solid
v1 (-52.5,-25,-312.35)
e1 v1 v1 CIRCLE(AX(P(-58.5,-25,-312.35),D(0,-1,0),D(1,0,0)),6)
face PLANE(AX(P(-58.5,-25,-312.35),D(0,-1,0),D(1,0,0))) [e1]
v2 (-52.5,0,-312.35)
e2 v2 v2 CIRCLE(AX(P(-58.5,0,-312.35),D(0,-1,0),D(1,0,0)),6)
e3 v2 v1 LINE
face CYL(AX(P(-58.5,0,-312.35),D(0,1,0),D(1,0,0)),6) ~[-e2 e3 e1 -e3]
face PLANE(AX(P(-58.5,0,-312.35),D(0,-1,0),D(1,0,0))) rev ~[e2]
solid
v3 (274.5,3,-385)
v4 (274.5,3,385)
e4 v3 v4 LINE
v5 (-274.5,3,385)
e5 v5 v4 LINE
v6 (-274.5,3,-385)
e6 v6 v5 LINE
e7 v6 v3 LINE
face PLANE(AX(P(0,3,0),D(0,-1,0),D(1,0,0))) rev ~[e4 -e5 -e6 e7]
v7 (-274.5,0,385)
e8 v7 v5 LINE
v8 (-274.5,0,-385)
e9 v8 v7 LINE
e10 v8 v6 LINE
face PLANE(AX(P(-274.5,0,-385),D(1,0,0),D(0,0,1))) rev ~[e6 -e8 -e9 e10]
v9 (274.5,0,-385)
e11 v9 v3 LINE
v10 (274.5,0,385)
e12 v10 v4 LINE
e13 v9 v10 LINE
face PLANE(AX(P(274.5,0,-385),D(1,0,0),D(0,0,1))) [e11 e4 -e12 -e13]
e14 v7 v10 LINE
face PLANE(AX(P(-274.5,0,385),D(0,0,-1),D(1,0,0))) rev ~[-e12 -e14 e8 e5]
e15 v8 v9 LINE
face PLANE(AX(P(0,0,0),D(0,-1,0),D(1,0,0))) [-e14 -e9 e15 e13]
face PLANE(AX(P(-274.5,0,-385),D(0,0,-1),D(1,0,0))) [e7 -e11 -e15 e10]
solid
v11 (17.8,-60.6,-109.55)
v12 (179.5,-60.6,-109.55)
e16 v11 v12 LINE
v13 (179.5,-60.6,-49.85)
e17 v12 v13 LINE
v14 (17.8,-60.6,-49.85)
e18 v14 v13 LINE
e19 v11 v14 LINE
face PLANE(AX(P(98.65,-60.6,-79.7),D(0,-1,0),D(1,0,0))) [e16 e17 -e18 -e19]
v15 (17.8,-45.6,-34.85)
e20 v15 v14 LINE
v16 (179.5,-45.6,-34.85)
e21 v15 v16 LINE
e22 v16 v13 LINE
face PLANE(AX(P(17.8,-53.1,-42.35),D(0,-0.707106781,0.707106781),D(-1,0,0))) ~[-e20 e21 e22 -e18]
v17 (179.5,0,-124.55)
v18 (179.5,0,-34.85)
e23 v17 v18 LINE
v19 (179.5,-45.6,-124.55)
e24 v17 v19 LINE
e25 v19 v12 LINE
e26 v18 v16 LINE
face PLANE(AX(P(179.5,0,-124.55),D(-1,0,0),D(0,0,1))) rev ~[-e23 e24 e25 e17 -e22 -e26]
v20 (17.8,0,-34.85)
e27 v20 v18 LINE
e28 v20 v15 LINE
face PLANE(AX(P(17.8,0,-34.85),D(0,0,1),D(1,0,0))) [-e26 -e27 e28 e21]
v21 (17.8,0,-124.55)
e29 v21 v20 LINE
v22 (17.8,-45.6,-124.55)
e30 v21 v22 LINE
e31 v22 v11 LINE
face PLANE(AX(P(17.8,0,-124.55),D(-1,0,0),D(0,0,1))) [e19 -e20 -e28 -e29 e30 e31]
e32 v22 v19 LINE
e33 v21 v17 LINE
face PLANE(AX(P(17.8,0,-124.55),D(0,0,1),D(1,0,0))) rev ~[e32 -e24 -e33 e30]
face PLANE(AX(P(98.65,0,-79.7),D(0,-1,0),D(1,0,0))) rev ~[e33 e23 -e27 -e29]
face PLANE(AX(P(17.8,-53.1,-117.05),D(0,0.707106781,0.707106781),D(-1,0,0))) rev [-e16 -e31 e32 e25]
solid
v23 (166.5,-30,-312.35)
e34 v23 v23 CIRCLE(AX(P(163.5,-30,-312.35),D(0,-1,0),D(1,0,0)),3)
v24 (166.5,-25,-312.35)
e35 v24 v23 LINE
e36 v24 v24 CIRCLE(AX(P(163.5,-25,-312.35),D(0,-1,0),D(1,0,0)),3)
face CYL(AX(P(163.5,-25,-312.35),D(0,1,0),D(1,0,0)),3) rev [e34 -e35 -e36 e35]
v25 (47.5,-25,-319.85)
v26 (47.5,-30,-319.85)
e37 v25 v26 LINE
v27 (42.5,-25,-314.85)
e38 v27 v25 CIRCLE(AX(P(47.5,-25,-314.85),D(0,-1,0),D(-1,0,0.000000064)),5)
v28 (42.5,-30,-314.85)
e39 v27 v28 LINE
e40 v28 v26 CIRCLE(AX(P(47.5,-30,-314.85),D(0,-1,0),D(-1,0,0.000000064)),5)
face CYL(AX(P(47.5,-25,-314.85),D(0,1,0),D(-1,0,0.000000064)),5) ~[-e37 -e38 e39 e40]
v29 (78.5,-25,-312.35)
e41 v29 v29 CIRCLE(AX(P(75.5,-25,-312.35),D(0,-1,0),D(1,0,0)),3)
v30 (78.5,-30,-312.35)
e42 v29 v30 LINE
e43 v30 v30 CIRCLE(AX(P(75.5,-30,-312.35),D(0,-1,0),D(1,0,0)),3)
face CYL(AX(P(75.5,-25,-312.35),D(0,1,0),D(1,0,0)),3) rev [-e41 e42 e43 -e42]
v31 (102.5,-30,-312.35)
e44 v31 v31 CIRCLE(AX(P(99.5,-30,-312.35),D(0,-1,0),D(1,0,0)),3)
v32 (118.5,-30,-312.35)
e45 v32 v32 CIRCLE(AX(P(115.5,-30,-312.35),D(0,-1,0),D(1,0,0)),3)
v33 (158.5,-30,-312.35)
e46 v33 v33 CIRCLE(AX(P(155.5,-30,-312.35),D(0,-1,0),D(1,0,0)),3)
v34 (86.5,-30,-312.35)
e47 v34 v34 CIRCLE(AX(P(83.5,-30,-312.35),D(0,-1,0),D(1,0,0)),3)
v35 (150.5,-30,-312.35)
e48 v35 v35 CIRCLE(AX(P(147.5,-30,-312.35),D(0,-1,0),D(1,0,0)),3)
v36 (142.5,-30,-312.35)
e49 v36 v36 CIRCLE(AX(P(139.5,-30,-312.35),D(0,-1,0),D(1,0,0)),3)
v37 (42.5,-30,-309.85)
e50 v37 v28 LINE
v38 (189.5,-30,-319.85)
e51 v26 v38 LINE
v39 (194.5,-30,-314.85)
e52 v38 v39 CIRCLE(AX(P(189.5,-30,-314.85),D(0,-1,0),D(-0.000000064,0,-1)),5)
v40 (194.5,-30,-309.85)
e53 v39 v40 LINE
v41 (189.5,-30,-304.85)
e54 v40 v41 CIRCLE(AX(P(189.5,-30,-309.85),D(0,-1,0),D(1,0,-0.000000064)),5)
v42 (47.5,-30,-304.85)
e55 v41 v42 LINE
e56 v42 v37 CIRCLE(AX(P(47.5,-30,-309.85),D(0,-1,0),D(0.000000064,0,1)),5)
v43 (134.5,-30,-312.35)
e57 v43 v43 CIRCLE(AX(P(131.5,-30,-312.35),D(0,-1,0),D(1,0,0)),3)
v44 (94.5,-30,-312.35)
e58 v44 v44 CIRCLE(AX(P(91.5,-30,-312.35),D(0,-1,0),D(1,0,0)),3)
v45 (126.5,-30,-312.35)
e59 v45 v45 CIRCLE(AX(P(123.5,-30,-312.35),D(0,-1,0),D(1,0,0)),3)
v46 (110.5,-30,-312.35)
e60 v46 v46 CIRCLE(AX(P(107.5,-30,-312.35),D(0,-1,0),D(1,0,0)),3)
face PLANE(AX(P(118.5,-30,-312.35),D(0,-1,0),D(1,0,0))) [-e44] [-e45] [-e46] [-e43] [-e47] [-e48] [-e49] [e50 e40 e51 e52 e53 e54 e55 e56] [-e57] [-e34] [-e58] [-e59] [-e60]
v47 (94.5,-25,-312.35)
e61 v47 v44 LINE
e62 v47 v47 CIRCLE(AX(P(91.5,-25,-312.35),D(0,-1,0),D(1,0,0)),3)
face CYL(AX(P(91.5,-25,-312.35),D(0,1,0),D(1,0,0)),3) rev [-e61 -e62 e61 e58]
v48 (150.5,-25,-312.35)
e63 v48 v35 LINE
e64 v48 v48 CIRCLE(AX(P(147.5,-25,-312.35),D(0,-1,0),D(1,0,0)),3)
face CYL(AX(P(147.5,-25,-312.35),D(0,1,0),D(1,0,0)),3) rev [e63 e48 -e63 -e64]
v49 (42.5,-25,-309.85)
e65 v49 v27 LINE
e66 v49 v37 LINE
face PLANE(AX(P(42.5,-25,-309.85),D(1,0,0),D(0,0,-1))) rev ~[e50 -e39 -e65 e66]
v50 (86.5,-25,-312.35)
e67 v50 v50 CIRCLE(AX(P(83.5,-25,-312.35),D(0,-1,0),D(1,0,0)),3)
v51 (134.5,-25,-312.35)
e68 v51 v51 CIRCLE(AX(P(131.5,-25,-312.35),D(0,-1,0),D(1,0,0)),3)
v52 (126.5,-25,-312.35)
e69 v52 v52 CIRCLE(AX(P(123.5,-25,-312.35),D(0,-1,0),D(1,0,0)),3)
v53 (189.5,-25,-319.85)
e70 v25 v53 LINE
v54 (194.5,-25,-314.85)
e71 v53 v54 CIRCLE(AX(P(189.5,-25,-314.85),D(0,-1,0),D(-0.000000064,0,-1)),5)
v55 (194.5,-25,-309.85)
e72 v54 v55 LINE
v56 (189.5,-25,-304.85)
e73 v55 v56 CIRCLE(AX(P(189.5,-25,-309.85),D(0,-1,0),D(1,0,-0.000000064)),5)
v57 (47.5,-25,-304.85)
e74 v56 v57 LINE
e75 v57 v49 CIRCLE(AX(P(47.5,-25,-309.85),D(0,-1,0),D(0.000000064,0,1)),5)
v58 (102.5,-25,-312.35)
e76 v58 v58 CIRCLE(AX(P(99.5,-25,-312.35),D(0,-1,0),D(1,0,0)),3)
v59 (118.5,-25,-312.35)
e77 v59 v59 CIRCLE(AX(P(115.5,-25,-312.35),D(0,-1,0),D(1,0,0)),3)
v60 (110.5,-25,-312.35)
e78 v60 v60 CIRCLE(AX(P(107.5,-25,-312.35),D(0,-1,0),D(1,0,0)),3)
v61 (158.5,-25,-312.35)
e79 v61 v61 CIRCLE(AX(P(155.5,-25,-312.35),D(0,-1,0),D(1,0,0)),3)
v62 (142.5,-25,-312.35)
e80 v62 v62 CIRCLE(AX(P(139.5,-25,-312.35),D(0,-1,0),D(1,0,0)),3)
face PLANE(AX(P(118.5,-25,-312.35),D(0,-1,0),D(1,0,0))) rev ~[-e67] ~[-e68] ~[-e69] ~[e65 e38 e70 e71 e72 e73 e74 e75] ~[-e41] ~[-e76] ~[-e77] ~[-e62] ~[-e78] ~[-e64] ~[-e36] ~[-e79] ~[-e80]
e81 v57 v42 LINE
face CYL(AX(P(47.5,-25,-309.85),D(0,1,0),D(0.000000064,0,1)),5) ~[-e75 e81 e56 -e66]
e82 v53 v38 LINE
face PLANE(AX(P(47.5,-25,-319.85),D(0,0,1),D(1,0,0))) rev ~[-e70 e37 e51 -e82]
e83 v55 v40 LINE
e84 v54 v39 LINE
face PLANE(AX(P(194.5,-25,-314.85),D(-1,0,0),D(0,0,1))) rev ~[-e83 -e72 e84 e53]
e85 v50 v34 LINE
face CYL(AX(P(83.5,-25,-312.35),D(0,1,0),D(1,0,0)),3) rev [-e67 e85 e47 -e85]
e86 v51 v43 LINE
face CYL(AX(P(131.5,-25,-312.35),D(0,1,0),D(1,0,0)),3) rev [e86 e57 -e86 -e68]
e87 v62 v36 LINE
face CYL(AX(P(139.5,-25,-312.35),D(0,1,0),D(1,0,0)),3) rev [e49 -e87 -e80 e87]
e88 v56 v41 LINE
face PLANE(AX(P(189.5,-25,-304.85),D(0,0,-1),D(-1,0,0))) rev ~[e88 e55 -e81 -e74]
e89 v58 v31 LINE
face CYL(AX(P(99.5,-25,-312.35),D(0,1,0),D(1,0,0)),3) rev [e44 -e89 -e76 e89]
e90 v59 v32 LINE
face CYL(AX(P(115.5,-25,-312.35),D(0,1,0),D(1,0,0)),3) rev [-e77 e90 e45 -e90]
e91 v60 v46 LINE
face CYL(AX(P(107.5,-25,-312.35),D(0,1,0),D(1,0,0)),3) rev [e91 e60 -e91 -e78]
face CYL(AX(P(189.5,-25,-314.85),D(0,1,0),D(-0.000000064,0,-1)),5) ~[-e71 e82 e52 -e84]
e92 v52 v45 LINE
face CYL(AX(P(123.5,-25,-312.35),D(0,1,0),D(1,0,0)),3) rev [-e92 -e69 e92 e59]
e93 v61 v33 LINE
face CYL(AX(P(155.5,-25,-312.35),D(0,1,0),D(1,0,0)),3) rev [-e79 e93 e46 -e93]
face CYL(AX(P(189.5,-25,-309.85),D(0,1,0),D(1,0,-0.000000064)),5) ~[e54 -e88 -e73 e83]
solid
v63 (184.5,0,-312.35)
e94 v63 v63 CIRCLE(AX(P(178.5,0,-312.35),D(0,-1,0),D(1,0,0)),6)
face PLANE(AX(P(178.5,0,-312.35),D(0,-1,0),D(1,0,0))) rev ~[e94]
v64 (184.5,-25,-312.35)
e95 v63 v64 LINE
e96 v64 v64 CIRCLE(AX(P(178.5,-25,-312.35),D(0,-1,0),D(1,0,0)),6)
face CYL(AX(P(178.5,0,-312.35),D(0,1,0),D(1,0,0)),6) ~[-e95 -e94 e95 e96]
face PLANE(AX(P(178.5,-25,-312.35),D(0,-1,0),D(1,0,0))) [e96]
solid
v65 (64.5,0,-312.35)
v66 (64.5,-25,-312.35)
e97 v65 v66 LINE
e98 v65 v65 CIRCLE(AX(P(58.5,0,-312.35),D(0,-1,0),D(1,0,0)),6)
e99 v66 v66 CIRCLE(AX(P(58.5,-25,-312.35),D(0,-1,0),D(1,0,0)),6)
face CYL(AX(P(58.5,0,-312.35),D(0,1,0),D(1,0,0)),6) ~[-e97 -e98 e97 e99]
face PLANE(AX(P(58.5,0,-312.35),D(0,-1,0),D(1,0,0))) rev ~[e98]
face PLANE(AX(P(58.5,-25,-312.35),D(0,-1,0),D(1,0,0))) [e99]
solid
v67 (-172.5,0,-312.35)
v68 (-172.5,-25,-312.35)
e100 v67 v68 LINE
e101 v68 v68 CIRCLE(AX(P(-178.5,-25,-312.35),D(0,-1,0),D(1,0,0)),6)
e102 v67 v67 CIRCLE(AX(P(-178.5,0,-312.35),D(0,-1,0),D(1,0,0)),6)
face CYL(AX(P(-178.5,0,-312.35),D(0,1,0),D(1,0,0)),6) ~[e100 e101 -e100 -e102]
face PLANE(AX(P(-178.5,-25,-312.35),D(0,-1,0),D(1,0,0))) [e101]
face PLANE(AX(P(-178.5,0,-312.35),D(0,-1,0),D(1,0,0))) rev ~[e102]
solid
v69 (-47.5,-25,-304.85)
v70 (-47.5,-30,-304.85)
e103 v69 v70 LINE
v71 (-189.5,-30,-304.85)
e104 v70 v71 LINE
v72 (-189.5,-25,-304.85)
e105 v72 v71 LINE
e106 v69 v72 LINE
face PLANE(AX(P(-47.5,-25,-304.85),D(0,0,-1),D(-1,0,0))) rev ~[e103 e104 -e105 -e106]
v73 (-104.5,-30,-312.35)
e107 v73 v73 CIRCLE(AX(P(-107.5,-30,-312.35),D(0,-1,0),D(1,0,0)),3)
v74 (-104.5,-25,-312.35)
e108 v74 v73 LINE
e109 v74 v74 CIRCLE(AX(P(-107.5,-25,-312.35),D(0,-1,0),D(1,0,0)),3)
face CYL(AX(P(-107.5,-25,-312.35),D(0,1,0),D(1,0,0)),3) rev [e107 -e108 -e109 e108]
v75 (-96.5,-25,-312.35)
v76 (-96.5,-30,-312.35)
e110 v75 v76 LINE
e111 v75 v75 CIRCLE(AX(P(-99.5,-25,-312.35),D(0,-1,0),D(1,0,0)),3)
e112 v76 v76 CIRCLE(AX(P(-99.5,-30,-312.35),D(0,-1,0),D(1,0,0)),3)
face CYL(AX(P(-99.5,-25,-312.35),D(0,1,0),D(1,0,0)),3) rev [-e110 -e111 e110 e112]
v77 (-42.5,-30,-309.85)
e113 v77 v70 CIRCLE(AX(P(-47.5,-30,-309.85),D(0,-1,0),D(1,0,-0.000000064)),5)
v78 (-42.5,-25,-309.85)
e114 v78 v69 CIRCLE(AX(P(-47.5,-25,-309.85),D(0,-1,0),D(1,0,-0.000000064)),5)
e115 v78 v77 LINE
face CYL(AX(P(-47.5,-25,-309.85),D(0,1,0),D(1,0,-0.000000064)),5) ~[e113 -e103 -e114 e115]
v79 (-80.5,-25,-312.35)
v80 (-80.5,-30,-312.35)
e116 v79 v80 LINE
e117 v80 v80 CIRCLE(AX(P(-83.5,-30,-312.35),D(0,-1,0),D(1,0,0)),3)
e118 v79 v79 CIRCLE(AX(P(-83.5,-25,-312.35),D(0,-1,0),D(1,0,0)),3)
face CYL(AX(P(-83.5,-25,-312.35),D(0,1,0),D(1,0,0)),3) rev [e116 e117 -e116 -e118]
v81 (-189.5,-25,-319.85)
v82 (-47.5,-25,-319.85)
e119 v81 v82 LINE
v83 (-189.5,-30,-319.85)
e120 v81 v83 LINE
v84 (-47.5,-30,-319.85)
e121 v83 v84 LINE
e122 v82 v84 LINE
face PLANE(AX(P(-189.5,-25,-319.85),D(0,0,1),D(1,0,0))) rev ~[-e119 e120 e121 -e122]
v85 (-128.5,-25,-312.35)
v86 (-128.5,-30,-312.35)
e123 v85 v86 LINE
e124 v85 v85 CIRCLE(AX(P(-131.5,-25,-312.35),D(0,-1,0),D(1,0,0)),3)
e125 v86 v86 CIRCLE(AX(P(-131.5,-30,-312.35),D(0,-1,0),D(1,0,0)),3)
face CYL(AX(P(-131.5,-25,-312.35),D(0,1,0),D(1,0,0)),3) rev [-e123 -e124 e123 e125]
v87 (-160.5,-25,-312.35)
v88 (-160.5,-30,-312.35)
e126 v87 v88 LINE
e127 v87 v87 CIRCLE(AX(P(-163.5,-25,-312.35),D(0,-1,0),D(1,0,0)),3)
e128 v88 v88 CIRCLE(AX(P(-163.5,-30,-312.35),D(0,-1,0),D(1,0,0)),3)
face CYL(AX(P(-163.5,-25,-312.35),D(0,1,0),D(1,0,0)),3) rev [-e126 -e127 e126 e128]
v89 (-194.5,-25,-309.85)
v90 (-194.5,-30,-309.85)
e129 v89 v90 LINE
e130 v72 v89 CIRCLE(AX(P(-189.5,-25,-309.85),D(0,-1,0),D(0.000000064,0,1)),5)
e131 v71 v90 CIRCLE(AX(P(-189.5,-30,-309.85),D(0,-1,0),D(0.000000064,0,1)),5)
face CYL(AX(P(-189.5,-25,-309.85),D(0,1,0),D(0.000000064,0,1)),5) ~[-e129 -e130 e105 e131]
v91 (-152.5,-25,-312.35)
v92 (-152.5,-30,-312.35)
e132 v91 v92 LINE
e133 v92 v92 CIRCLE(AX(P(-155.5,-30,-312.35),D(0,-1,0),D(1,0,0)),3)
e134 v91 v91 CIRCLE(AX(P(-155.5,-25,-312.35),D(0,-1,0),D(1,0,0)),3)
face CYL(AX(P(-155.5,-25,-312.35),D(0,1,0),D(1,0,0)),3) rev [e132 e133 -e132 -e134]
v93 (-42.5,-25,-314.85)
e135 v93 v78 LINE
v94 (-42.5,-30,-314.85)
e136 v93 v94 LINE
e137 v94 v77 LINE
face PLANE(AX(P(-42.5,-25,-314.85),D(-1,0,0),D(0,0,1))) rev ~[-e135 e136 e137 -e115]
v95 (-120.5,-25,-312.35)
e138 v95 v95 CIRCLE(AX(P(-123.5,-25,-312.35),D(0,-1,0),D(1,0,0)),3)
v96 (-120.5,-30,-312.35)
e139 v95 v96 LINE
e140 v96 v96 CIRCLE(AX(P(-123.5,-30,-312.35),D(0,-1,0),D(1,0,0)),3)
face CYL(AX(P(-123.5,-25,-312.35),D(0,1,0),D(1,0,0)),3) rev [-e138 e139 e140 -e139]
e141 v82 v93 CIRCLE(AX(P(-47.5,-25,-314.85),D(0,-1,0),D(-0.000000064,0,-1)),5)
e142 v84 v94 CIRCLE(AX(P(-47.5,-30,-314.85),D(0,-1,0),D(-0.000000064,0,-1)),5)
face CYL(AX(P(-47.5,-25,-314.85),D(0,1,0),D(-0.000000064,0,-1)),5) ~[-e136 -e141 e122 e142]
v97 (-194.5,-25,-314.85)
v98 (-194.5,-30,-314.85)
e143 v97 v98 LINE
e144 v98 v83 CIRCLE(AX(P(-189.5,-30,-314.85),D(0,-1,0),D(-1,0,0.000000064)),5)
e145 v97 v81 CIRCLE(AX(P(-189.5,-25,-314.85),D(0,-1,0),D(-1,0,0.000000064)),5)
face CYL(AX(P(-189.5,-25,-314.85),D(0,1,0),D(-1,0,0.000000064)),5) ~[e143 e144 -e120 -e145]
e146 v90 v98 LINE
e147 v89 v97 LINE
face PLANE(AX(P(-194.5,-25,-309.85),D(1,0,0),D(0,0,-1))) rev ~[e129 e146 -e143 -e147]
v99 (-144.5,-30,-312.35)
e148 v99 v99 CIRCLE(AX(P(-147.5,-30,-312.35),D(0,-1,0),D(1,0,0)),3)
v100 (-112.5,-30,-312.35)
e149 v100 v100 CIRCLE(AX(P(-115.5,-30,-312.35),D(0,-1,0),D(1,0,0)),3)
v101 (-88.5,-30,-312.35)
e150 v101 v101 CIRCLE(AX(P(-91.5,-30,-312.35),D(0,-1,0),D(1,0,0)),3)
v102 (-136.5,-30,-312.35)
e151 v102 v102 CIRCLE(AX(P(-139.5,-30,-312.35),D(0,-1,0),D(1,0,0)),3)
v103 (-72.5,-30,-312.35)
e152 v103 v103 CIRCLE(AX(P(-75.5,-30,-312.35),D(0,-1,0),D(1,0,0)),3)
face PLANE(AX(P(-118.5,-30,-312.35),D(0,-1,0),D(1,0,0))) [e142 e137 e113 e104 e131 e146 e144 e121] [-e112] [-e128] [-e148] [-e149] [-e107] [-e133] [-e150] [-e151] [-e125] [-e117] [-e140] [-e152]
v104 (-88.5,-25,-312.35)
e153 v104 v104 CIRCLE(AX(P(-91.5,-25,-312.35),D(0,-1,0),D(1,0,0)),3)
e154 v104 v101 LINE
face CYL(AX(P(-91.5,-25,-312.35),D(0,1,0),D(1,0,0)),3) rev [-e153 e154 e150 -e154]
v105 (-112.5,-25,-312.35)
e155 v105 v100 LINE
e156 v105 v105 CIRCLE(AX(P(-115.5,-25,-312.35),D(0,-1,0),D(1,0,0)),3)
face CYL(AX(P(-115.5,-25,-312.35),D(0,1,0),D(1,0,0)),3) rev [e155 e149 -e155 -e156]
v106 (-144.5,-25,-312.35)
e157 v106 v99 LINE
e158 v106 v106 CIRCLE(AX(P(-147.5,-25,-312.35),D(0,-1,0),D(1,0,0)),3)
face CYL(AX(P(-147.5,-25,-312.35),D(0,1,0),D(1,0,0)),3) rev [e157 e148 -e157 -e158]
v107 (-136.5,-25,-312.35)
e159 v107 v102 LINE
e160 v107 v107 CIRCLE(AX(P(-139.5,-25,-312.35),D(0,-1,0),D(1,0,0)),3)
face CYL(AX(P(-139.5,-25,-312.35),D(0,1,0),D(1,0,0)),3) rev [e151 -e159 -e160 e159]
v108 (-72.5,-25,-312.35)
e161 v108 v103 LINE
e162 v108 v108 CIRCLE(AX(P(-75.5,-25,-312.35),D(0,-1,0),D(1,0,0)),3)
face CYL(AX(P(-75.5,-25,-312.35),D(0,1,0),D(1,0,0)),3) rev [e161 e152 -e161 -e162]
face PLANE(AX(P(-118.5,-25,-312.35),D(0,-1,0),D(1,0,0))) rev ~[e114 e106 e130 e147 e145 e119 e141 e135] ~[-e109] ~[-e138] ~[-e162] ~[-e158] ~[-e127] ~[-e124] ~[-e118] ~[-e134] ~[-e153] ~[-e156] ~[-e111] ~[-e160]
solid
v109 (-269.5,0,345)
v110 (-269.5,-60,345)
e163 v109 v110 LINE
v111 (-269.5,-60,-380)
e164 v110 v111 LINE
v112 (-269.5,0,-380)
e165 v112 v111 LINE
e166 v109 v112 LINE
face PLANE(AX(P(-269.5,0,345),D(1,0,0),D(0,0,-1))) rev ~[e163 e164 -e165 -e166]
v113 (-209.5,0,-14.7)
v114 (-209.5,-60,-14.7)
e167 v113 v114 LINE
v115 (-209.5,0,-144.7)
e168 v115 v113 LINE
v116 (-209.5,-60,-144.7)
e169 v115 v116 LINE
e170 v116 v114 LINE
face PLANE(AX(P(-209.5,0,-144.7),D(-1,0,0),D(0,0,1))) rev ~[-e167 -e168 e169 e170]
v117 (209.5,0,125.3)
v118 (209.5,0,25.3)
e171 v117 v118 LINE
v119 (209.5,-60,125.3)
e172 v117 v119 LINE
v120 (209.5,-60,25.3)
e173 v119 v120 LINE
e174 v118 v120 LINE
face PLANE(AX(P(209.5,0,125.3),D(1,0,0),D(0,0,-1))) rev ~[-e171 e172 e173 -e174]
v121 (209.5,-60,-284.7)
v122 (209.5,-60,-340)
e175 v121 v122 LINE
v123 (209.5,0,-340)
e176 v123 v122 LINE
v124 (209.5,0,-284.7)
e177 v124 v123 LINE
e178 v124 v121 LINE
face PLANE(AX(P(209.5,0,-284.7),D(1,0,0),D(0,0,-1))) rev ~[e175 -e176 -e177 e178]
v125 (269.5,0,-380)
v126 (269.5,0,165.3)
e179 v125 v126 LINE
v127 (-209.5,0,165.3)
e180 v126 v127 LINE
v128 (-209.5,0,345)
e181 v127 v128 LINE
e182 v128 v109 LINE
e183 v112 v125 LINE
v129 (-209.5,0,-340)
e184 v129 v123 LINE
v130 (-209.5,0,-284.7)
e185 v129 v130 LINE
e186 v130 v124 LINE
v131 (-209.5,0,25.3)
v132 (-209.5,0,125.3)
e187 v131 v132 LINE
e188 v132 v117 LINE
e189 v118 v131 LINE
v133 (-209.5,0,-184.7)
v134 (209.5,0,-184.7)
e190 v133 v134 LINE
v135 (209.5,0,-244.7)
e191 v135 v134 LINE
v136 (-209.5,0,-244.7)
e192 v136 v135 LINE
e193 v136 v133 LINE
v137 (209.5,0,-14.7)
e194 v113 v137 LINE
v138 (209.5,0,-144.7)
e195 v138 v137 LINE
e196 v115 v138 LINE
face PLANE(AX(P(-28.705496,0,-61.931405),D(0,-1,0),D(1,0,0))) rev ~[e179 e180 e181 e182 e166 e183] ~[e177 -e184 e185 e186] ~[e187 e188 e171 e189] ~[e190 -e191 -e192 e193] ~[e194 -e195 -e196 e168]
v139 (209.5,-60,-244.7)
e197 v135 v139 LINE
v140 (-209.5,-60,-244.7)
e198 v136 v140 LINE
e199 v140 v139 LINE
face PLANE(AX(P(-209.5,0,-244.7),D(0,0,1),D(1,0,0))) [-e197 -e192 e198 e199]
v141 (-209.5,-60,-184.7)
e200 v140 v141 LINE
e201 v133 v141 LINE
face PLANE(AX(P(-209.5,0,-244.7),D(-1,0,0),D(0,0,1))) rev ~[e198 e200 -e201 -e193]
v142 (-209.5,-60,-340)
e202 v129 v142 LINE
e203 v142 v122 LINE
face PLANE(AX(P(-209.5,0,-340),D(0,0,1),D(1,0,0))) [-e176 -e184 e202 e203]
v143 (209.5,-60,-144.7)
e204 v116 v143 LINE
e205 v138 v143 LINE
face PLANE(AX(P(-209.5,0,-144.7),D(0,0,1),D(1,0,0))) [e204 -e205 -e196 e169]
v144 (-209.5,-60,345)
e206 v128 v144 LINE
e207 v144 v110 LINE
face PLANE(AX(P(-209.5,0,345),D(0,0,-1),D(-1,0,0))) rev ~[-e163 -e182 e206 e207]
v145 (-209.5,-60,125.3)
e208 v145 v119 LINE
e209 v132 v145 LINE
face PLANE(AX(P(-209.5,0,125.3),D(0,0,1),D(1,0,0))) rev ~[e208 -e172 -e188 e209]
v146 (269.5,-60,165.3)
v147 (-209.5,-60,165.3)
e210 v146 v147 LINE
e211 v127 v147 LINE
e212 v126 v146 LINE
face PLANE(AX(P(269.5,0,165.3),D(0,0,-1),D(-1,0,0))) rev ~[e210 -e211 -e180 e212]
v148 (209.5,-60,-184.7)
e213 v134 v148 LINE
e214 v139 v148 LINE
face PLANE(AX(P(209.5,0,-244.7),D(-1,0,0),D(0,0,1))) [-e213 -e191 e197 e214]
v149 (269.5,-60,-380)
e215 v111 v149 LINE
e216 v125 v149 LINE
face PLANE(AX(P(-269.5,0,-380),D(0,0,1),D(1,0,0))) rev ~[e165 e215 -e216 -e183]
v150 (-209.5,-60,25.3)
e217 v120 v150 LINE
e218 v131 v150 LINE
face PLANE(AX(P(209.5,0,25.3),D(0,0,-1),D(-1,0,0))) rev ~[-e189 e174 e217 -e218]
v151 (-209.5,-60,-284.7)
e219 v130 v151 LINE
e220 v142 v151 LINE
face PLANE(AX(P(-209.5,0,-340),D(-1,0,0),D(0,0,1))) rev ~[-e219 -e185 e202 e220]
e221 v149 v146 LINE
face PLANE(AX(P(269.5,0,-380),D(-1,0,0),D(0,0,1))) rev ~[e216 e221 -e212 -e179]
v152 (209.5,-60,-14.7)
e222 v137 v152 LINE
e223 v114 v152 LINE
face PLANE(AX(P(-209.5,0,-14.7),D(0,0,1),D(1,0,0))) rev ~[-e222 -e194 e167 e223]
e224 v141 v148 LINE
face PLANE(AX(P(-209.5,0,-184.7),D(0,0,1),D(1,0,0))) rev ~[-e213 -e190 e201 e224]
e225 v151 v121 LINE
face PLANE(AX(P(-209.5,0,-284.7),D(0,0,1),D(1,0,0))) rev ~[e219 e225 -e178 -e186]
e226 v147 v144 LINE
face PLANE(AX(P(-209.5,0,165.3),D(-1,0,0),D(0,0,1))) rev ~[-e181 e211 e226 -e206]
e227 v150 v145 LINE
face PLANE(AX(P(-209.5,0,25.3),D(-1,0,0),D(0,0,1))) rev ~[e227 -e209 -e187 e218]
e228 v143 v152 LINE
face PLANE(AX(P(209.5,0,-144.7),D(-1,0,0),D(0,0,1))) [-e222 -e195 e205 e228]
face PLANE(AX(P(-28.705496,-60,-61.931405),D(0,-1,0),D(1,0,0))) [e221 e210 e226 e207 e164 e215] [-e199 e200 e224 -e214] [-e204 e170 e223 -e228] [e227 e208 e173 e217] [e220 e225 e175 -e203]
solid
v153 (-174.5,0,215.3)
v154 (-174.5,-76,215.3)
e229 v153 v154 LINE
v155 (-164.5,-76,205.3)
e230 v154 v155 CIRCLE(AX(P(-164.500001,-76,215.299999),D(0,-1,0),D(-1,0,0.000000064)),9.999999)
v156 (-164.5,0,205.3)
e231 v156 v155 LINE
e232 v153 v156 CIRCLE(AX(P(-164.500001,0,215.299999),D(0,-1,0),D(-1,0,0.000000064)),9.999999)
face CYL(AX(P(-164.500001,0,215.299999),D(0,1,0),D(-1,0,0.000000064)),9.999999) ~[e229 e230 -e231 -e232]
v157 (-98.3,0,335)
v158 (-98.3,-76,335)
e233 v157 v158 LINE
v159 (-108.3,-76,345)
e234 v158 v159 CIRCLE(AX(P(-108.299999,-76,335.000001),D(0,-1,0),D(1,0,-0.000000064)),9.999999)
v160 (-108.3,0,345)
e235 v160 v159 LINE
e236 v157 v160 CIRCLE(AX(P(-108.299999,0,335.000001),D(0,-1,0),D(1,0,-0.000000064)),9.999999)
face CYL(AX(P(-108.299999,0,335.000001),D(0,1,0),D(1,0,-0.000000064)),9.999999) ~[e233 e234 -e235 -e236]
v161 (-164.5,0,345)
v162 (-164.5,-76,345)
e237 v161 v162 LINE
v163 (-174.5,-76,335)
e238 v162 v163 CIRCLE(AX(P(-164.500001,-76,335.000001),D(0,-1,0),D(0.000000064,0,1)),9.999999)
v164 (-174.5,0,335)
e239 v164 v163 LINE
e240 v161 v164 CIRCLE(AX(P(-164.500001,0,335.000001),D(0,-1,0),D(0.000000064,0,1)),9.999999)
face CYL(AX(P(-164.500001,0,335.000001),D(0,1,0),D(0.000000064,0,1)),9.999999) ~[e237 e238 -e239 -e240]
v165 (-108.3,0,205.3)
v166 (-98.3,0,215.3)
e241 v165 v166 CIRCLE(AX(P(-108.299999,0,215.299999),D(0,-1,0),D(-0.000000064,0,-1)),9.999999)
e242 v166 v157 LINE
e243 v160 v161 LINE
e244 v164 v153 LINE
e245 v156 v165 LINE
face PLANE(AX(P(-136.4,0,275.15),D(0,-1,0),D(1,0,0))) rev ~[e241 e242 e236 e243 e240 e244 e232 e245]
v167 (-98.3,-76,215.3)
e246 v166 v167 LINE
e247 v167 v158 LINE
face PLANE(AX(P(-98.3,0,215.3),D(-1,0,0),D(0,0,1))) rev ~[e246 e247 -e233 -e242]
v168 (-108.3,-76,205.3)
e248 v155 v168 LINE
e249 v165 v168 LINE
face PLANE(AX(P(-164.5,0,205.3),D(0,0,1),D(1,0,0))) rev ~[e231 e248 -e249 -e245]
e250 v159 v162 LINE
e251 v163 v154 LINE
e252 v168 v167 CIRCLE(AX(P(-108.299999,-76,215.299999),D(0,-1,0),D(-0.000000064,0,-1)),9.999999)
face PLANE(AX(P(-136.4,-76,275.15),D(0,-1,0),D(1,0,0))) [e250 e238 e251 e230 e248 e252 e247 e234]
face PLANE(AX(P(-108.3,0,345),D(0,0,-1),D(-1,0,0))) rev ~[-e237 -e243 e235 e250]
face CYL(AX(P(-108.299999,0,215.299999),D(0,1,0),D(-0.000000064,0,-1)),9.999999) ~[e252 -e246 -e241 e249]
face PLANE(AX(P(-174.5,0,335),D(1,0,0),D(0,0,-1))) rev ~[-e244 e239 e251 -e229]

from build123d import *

# Parameters (mm, degrees)
F0_W      = 549
F0_H      = 770
F1_DEPTH  = 3
F3_DEPTH  = 76
F4_W      = 419
F4_H      = 60
F4_H_2    = 130
F4_H_3    = 40
F5_DEPTH  = 60
F6_W      = 161.7
F6_H      = 89.7
F7_DEPTH  = 60.6
F8_SIZE   = 15
F9_R      = 6
F10_DEPTH = 25
F11_R     = 3
F12_DEPTH = 5


with BuildPart() as f1:
    # F0 (on Front) → F1 (new body)
    with BuildSketch(Plane.XZ):
        Rectangle(F0_W, F0_H)
    extrude(amount=-F1_DEPTH)


with BuildPart() as f3:
    # F2 (on face) → F3 (new body)
    with BuildSketch(Plane.XZ):
        with BuildLine():
            Line((-108.3, 345), (-164.5, 345))
            ThreePointArc((-164.5, 345), (-171.571068, 342.071068), (-174.5, 335))
            Line((-174.5, 335), (-174.5, 215.3))
            ThreePointArc((-174.5, 215.3), (-171.571068, 208.228932), (-164.5, 205.3))
            Line((-164.5, 205.3), (-108.3, 205.3))
            ThreePointArc((-108.3, 205.3), (-101.228932, 208.228932), (-98.3, 215.3))
            Line((-98.3, 215.3), (-98.3, 335))
            ThreePointArc((-98.3, 335), (-101.228932, 342.071068), (-108.3, 345))
        make_face()
    extrude(amount=F3_DEPTH)


with BuildPart() as f5:
    # F4 (on face) → F5 (new body)
    with BuildSketch(Plane.XZ):
        Polygon((-209.5, 345), (-269.5, 345), (-269.5, -380), (-209.5, -380), (-209.5, -340), (-209.5, -284.7), (209.5, -284.7), (209.5, -340), (209.5, -380), (269.5, -380), (269.5, 165.3), (209.5, 165.3), (209.5, 125.3), (209.5, 25.3), (-209.5, 25.3), (-209.5, 125.3), (-209.5, 165.3), align=None)
        with Locations((0, -214.7)):
            Rectangle(F4_W, F4_H, mode=Mode.SUBTRACT)
        with Locations((0, -79.7)):
            Rectangle(F4_W, F4_H_2, mode=Mode.SUBTRACT)
        with Locations((0, 145.3)):
            Rectangle(F4_W, F4_H_3)
        with Locations((0, -360)):
            Rectangle(F4_W, F4_H_3)
    extrude(amount=F5_DEPTH)


with BuildPart() as f7:
    # F6 (on face) → F7 (new body)
    with BuildSketch(Plane.XZ):
        with Locations((98.65, -79.7)):
            Rectangle(F6_W, F6_H)
    extrude(amount=F7_DEPTH)

    # F8
    f8_edges = [f7.edges().sort_by_distance(p)[0] for p in [
        (98.65, -60.6, -124.55),
        (98.65, -60.6, -34.85),
    ]]
    chamfer(f8_edges, length=F8_SIZE)


with BuildPart() as f10:
    # F9 (on face) → F10 (new body)
    with BuildSketch(Plane.XZ):
        with Locations((-178.5, -312.35)):
            Circle(F9_R)
        with Locations((-58.5, -312.35)):
            Circle(F9_R)
        with Locations((58.5, -312.35)):
            Circle(F9_R)
        with Locations((178.5, -312.35)):
            Circle(F9_R)
    extrude(amount=F10_DEPTH)


with BuildPart() as f12:
    # F11 (on face) → F12 (new body)
    with BuildSketch(Plane.XZ.offset(25)):
        with BuildLine():
            Line((-47.5, -304.85), (-189.5, -304.85))
            ThreePointArc((-189.5, -304.85), (-193.035534, -306.314466), (-194.5, -309.85))
            Line((-194.5, -309.85), (-194.5, -314.85))
            ThreePointArc((-194.5, -314.85), (-193.035534, -318.385534), (-189.5, -319.85))
            Line((-189.5, -319.85), (-47.5, -319.85))
            ThreePointArc((-47.5, -319.85), (-43.964466, -318.385534), (-42.5, -314.85))
            Line((-42.5, -314.85), (-42.5, -309.85))
            ThreePointArc((-42.5, -309.85), (-43.964466, -306.314466), (-47.5, -304.85))
        make_face()
        with Locations((-163.5, -312.35)):
            Circle(F11_R, mode=Mode.SUBTRACT)
        with Locations((-155.5, -312.35)):
            Circle(F11_R, mode=Mode.SUBTRACT)
        with Locations((-147.5, -312.35)):
            Circle(F11_R, mode=Mode.SUBTRACT)
        with Locations((-139.5, -312.35)):
            Circle(F11_R, mode=Mode.SUBTRACT)
        with Locations((-131.5, -312.35)):
            Circle(F11_R, mode=Mode.SUBTRACT)
        with Locations((-123.5, -312.35)):
            Circle(F11_R, mode=Mode.SUBTRACT)
        with Locations((-115.5, -312.35)):
            Circle(F11_R, mode=Mode.SUBTRACT)
        with Locations((-107.5, -312.35)):
            Circle(F11_R, mode=Mode.SUBTRACT)
        with Locations((-99.5, -312.35)):
            Circle(F11_R, mode=Mode.SUBTRACT)
        with Locations((-91.5, -312.35)):
            Circle(F11_R, mode=Mode.SUBTRACT)
        with Locations((-83.5, -312.35)):
            Circle(F11_R, mode=Mode.SUBTRACT)
        with Locations((-75.5, -312.35)):
            Circle(F11_R, mode=Mode.SUBTRACT)
        with BuildLine():
            Line((47.5, -319.85), (189.5, -319.85))
            ThreePointArc((189.5, -319.85), (193.035534, -318.385534), (194.5, -314.85))
            Line((194.5, -314.85), (194.5, -309.85))
            ThreePointArc((194.5, -309.85), (193.035534, -306.314466), (189.5, -304.85))
            Line((189.5, -304.85), (47.5, -304.85))
            ThreePointArc((47.5, -304.85), (43.964466, -306.314466), (42.5, -309.85))
            Line((42.5, -309.85), (42.5, -314.85))
            ThreePointArc((42.5, -314.85), (43.964466, -318.385534), (47.5, -319.85))
        make_face()
        with Locations((75.5, -312.35)):
            Circle(F11_R, mode=Mode.SUBTRACT)
        with Locations((83.5, -312.35)):
            Circle(F11_R, mode=Mode.SUBTRACT)
        with Locations((91.5, -312.35)):
            Circle(F11_R, mode=Mode.SUBTRACT)
        with Locations((99.5, -312.35)):
            Circle(F11_R, mode=Mode.SUBTRACT)
        with Locations((107.5, -312.35)):
            Circle(F11_R, mode=Mode.SUBTRACT)
        with Locations((115.5, -312.35)):
            Circle(F11_R, mode=Mode.SUBTRACT)
        with Locations((123.5, -312.35)):
            Circle(F11_R, mode=Mode.SUBTRACT)
        with Locations((131.5, -312.35)):
            Circle(F11_R, mode=Mode.SUBTRACT)
        with Locations((139.5, -312.35)):
            Circle(F11_R, mode=Mode.SUBTRACT)
        with Locations((147.5, -312.35)):
            Circle(F11_R, mode=Mode.SUBTRACT)
        with Locations((155.5, -312.35)):
            Circle(F11_R, mode=Mode.SUBTRACT)
        with Locations((163.5, -312.35)):
            Circle(F11_R, mode=Mode.SUBTRACT)
    extrude(amount=F12_DEPTH)


solid = Compound([f1.part, f3.part, f5.part, f7.part, f10.part, f12.part])
